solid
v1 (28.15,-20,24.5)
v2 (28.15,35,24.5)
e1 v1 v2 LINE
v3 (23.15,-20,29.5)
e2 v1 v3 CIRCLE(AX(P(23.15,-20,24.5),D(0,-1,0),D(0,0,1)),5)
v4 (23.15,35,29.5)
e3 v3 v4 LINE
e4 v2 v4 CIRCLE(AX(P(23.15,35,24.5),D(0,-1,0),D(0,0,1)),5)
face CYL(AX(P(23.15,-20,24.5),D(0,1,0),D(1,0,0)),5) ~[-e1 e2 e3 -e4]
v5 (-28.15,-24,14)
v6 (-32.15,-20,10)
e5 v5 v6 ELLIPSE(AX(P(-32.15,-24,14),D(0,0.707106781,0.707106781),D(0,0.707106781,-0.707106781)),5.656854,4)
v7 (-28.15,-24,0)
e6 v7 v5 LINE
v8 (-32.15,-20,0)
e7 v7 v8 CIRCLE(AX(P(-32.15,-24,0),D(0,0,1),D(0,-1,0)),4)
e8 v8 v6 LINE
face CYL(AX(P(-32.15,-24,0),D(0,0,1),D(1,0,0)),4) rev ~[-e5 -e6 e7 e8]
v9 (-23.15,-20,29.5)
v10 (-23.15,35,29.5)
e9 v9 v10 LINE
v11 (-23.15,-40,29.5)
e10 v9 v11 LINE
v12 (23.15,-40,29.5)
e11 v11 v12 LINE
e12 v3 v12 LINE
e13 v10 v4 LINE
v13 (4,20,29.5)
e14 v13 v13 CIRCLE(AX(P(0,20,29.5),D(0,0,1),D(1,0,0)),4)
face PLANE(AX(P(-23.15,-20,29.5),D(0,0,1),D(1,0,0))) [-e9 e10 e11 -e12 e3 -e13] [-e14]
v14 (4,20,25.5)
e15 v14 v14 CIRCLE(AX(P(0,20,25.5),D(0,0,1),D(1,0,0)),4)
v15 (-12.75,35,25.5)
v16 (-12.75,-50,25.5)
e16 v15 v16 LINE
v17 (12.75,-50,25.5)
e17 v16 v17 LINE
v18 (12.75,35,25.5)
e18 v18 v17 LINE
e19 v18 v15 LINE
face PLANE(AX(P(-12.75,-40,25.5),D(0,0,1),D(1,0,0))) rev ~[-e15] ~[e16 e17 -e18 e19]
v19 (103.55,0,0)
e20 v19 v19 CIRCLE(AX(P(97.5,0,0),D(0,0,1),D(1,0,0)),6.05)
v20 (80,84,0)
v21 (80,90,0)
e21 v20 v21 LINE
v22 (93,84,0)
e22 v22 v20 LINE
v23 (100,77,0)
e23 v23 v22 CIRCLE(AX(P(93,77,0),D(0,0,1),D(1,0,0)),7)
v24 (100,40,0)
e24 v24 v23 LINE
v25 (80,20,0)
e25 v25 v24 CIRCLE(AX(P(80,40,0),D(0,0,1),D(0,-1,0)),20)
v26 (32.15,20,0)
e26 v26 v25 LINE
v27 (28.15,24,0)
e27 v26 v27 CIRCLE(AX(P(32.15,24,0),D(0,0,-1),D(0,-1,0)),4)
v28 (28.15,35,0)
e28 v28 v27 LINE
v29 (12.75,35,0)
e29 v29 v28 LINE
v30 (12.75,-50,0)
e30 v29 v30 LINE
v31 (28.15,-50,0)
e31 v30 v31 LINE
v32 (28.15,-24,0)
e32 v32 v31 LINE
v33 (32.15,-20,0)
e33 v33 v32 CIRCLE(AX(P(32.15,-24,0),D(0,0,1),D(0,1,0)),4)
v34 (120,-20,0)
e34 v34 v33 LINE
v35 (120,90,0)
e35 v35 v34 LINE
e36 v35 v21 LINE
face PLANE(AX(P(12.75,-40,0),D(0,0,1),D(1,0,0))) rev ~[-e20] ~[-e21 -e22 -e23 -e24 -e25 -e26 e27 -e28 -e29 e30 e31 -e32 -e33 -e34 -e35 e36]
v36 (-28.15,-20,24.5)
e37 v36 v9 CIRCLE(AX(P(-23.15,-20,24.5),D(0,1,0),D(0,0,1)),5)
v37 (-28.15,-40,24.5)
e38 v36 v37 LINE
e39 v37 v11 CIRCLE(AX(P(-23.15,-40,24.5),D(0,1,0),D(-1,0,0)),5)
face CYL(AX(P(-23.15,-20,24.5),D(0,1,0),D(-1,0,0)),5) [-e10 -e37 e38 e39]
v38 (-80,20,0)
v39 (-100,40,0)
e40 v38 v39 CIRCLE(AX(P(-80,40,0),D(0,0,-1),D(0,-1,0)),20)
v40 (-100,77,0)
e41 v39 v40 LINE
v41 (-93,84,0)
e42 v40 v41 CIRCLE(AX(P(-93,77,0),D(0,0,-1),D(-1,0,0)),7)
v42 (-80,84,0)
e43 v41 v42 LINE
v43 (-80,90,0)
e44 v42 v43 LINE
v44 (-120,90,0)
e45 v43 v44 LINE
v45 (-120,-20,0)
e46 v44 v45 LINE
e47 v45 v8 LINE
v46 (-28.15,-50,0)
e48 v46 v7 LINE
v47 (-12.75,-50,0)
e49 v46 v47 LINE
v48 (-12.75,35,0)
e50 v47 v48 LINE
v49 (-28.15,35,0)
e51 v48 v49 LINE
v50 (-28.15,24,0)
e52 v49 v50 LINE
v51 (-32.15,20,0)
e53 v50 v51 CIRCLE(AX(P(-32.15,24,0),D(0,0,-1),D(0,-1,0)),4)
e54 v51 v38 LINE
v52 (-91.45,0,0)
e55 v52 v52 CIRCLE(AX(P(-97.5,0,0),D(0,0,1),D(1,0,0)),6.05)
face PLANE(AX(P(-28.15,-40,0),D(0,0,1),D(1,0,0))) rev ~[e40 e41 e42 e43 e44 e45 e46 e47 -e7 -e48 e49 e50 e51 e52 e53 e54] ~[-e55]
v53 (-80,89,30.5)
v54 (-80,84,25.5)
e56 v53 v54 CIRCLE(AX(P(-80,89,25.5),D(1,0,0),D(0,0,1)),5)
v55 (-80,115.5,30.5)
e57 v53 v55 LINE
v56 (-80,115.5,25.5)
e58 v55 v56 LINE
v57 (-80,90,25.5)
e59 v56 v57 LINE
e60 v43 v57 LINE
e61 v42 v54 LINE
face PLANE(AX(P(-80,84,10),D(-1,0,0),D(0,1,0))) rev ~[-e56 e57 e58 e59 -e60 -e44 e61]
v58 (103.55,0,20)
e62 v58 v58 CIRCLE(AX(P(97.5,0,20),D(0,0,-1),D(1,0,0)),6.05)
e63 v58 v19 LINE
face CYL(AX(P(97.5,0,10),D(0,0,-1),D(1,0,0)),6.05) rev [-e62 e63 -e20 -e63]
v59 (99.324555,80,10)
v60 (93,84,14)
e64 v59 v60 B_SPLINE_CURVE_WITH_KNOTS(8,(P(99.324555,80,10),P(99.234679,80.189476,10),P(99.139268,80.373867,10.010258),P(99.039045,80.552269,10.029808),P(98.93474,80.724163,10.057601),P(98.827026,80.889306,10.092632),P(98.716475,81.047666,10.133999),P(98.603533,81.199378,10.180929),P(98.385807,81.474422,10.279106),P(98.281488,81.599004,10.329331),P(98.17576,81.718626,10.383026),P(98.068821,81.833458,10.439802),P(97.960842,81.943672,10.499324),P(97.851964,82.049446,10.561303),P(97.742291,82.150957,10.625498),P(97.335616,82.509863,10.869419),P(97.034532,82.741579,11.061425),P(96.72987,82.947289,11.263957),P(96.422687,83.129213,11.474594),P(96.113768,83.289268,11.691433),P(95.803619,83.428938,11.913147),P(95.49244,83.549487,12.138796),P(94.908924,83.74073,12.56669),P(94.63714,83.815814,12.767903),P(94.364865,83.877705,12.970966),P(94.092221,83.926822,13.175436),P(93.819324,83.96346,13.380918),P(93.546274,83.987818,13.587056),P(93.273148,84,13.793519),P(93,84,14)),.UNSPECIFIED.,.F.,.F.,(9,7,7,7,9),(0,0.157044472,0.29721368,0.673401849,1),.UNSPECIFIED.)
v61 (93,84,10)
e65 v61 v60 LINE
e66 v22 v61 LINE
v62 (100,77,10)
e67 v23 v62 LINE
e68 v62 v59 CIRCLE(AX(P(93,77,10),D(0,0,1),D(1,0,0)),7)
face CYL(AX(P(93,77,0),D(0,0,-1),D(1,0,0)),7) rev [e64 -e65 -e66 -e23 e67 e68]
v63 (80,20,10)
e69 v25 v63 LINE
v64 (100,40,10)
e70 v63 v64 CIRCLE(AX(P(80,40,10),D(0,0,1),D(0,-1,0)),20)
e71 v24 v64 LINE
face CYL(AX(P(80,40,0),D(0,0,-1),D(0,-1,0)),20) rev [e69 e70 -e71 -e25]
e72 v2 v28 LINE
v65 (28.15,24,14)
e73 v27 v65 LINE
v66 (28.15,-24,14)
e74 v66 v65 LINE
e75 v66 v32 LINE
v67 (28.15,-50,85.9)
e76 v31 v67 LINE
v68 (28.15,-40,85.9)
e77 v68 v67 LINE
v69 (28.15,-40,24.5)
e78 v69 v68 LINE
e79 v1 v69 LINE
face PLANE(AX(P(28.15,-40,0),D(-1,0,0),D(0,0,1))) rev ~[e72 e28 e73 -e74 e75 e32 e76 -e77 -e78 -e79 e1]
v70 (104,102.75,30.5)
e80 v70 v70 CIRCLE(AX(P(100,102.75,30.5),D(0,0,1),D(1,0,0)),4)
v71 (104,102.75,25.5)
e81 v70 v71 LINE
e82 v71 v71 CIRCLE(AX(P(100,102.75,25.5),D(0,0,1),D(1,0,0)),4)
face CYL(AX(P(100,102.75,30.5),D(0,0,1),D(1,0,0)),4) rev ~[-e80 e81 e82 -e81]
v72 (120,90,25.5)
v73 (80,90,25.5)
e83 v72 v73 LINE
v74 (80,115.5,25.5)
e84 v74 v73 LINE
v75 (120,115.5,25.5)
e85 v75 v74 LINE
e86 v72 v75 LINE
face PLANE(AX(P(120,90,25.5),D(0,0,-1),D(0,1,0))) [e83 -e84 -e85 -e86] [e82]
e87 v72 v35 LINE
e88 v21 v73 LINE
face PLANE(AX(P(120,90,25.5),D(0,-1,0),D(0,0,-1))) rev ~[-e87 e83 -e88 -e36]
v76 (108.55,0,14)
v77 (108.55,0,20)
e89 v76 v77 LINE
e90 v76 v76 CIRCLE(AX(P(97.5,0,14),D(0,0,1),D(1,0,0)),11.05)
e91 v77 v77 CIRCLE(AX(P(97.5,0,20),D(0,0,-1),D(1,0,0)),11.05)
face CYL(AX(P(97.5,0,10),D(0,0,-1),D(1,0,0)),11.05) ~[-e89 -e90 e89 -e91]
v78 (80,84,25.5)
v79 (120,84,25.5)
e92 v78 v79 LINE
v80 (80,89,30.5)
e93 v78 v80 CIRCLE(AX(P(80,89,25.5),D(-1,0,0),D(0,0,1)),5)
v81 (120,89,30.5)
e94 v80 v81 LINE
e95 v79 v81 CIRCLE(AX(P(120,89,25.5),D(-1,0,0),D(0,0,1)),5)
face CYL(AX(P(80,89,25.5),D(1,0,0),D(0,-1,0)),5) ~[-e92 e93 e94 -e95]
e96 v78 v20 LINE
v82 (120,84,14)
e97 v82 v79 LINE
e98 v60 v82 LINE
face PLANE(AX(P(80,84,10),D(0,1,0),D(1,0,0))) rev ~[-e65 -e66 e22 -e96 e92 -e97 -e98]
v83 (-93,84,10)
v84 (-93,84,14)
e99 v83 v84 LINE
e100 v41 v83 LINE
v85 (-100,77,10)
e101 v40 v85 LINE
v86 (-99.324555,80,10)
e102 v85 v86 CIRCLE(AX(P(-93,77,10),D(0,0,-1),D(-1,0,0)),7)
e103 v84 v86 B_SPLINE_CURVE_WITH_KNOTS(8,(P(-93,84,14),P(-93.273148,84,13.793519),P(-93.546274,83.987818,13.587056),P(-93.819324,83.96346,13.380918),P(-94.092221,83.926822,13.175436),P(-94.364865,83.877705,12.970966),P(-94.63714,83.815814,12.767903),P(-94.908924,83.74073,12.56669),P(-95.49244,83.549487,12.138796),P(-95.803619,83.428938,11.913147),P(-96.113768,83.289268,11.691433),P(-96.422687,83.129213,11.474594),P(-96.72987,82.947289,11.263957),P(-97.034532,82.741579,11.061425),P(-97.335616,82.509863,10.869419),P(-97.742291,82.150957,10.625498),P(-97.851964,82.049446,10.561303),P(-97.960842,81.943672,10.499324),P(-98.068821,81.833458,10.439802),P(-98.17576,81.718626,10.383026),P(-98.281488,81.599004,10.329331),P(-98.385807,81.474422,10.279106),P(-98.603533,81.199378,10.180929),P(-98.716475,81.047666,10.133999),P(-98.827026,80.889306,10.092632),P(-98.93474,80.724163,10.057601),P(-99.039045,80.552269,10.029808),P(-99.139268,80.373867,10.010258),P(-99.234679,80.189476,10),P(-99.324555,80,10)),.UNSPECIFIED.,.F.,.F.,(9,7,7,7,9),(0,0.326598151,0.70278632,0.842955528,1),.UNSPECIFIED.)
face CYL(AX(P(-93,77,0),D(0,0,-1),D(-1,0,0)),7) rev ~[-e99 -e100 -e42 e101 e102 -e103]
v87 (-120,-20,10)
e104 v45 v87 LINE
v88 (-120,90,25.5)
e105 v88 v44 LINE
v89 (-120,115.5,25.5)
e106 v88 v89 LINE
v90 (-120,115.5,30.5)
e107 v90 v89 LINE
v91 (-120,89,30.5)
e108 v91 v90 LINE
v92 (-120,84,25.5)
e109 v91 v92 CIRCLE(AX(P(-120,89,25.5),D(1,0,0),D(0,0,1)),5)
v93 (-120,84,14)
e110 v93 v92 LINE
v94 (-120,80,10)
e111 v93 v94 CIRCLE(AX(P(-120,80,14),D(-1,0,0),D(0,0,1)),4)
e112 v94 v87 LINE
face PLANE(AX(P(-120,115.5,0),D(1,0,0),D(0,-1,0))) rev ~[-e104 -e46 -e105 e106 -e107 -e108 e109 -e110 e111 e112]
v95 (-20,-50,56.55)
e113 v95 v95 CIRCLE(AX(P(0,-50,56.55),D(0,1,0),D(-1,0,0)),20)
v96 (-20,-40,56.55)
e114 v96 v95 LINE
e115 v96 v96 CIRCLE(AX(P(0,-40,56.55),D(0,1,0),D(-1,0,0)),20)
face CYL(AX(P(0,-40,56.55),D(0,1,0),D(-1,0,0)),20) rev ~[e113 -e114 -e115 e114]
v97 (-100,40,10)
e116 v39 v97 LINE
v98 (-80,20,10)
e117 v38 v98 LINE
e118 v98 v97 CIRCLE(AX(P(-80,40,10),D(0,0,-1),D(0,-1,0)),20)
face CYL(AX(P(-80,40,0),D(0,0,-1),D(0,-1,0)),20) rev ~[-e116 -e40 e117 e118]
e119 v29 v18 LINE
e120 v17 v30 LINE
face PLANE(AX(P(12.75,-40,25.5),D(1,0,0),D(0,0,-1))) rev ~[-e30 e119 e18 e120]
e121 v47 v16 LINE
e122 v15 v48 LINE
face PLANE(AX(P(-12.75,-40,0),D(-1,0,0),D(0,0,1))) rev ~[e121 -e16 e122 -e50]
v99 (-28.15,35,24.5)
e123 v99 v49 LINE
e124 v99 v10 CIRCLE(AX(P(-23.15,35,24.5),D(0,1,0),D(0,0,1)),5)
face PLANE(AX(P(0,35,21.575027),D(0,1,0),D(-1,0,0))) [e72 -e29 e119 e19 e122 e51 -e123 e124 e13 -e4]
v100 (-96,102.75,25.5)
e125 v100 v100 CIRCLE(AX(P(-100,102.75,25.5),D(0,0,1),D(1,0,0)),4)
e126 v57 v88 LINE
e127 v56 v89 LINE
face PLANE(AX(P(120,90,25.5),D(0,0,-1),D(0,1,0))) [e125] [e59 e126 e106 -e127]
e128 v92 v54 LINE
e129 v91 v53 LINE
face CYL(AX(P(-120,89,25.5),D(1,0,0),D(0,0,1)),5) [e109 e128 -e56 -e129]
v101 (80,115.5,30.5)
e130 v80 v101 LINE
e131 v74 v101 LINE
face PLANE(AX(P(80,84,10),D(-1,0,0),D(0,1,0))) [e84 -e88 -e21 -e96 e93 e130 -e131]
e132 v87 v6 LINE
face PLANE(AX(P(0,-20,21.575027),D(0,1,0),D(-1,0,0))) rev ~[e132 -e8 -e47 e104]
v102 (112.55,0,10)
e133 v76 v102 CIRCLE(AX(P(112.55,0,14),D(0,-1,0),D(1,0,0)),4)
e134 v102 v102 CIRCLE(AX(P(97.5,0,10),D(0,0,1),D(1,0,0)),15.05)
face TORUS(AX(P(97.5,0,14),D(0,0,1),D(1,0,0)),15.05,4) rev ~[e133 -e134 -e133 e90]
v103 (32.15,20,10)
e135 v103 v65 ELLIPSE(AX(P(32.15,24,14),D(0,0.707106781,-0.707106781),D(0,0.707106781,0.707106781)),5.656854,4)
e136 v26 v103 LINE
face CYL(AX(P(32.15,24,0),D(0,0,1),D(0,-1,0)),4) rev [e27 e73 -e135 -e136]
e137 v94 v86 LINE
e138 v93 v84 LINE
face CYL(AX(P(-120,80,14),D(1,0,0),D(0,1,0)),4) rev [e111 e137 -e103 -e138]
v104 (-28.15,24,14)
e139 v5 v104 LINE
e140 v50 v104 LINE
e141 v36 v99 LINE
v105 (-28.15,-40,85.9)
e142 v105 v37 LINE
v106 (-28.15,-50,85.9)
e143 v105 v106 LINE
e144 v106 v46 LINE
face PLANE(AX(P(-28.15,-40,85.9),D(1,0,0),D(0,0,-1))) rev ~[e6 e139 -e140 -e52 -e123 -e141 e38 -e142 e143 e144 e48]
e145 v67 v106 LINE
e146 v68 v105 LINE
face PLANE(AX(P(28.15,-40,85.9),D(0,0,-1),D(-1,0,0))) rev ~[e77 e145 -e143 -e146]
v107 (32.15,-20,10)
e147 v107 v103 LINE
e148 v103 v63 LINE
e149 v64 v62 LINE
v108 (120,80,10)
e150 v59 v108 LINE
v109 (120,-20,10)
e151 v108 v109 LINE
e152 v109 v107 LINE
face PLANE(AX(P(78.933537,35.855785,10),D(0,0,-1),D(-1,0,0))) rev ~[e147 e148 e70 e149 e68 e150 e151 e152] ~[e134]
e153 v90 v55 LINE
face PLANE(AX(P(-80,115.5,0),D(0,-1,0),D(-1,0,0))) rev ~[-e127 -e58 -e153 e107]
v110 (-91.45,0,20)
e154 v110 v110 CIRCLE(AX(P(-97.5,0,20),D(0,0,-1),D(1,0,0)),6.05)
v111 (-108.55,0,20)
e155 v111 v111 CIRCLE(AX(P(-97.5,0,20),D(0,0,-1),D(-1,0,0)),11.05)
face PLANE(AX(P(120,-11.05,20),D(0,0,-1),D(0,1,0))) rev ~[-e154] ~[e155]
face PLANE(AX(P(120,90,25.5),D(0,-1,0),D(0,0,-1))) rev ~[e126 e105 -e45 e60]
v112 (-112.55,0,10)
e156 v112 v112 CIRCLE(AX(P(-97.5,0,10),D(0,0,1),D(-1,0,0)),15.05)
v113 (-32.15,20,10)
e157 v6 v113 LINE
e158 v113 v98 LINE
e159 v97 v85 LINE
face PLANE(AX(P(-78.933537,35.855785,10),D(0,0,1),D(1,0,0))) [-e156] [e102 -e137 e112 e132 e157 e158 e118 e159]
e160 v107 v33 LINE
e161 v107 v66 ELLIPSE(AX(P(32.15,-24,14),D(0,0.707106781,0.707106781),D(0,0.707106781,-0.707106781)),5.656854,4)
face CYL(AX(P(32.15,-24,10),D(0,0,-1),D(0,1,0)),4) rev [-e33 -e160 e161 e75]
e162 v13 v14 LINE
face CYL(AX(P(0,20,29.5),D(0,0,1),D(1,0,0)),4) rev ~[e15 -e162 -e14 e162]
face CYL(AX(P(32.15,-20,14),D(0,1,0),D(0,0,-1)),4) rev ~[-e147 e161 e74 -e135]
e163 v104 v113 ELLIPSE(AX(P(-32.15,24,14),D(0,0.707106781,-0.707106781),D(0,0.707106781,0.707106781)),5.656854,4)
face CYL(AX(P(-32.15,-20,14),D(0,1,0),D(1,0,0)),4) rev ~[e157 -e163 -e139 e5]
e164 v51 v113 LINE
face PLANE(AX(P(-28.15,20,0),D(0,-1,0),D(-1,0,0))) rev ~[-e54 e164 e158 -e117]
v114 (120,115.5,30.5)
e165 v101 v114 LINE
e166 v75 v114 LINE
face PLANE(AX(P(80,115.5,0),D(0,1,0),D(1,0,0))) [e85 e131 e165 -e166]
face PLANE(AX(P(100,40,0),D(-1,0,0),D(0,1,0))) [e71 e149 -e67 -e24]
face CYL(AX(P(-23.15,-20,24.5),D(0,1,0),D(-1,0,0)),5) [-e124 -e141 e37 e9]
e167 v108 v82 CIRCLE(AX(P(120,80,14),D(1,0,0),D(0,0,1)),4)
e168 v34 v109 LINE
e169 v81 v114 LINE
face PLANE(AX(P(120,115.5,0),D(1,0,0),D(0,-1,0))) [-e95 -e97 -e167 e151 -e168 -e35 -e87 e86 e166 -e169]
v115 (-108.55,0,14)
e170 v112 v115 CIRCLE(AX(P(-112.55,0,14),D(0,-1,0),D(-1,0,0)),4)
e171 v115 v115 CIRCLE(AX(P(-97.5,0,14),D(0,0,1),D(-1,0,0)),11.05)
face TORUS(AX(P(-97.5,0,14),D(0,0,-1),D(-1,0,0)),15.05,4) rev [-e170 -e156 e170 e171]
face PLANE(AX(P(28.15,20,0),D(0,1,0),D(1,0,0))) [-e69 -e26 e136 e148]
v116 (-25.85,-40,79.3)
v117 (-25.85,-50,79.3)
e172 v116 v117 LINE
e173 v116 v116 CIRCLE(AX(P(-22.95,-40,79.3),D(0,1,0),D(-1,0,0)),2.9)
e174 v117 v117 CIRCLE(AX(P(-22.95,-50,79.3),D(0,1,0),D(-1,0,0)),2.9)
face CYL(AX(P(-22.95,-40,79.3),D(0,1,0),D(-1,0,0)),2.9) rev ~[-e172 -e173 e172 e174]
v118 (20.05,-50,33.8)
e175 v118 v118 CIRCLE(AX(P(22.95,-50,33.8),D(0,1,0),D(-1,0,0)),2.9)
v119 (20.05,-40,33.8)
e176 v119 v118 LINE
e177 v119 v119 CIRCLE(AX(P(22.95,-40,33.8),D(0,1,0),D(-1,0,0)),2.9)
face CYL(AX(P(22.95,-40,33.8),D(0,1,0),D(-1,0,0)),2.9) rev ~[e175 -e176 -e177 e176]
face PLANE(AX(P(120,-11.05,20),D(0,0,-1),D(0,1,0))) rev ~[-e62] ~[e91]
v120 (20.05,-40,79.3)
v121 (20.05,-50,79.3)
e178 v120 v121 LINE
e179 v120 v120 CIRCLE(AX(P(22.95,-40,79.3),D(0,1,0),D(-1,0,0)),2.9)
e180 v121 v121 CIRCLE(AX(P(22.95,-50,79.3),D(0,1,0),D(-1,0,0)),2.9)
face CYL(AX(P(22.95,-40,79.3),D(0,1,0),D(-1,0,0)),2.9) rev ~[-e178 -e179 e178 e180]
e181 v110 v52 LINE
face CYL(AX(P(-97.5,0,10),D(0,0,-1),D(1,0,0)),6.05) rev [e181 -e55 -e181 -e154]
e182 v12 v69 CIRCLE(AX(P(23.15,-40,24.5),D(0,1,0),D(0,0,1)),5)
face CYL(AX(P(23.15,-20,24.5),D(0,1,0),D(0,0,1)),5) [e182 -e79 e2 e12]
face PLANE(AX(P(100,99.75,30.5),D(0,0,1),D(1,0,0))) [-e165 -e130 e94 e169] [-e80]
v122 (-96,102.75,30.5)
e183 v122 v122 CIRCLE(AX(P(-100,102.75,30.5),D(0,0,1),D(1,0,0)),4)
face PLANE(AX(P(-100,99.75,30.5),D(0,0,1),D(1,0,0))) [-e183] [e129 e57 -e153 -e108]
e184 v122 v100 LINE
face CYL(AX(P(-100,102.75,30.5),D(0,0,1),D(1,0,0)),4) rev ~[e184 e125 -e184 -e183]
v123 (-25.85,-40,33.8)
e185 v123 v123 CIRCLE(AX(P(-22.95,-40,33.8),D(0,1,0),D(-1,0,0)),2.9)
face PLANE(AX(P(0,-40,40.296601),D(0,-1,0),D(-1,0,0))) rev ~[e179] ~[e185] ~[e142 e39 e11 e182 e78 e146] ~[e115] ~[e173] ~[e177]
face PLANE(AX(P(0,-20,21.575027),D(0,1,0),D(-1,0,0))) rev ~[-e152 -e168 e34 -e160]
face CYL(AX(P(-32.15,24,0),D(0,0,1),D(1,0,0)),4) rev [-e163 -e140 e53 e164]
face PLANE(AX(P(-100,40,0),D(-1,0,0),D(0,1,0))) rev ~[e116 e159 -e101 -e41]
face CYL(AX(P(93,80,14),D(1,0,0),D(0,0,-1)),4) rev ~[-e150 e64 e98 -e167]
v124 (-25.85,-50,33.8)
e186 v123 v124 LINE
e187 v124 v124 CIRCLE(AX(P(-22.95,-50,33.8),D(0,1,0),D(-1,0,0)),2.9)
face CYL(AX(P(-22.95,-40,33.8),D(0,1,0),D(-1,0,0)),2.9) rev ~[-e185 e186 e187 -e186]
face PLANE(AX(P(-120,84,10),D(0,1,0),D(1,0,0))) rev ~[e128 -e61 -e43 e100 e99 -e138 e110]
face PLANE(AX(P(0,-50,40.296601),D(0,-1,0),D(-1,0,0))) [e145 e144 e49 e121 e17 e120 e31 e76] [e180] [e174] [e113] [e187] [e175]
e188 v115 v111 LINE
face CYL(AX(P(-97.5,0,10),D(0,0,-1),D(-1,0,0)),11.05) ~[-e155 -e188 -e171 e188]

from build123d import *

# Parameters (mm, degrees)
SKETCH19_R             = 6.05
BOSS_EXTRUDE12_DEPTH   = 10
BOSS_EXTRUDE12_2_DEPTH = 10
SKETCH20_R             = 11.05
SKETCH20_R_2           = 6.05
SKETCH20_W             = 40
SKETCH20_H             = 31.5
BOSS_EXTRUDE13_DEPTH   = 20.5
SKETCH21_W             = 25.5
SKETCH21_H             = 25.5
SKETCH21_W_2           = 10.5
SKETCH21_H_2           = 22.1
CUT_EXTRUDE11_DEPTH    = 269.086739694
CUT_EXTRUDE12_REACH    = 171.324
SKETCH22_R             = 4
BOSS_EXTRUDE14_DEPTH   = 55
FILLET6_R              = 5
BOSS_EXTRUDE16_DEPTH   = 20
SKETCH27_R             = 2.9
SKETCH27_R_2           = 20
BOSS_EXTRUDE15_DEPTH   = 10
FILLET10_R             = 4
SKETCH31_R             = 4
CUT_EXTRUDE13_DEPTH    = 10


with BuildPart() as part:
    # Sketch19 → Boss-Extrude12 (new body)
    with BuildSketch(Plane.XY):
        with BuildLine():
            Line((28.15, 20), (80, 20))
            ThreePointArc((80, 20), (94.142135624, 25.857864376), (100, 40))
            Line((100, 40), (100, 77))
            ThreePointArc((100, 77), (97.949747468, 81.949747468), (93, 84))
            Line((93, 84), (80, 84))
            Line((80, 84), (80, 115.5))
            Line((80, 115.5), (120, 115.5))
            Line((120, 115.5), (120, -20))
            Line((120, -20), (12.75, -20))
            Line((12.75, -20), (12.75, 20))
            Line((12.75, 20), (12.75, 35))
            Line((12.75, 35), (28.15, 35))
            Line((28.15, 35), (28.15, 20))
        make_face()
        with Locations((97.5, 0)):
            Circle(SKETCH19_R, mode=Mode.SUBTRACT)
    extrude(amount=BOSS_EXTRUDE12_DEPTH)



with BuildPart() as body_2:
    # Sketch19 → Boss-Extrude12 2 (new body)
    with BuildSketch(Plane.XY):
        with BuildLine():
            Line((-120, -20), (-12.75, -20))
            Line((-12.75, -20), (-12.75, 20))
            Line((-12.75, 20), (-12.75, 35))
            Line((-12.75, 35), (-28.15, 35))
            Line((-28.15, 35), (-28.15, 20))
            Line((-28.15, 20), (-80, 20))
            ThreePointArc((-80, 20), (-94.142135624, 25.857864376), (-100, 40))
            Line((-100, 40), (-100, 77))
            ThreePointArc((-100, 77), (-97.949747468, 81.949747468), (-93, 84))
            Line((-93, 84), (-80, 84))
            Line((-80, 84), (-80, 115.5))
            Line((-80, 115.5), (-120, 115.5))
            Line((-120, 115.5), (-120, -20))
        make_face()
        with Locations((-97.5, 0)):
            Circle(SKETCH19_R, mode=Mode.SUBTRACT)
    extrude(amount=BOSS_EXTRUDE12_2_DEPTH)


with BuildPart() as part_1:
    add(part.part)

    add(body_2.part)  # Boss-Extrude13 merges body 2
    # Sketch20 → Boss-Extrude13 (add)
    # profile 1 of 4: a face of its own
    with BuildSketch(Plane.XY.offset(10)):
        with Locations((-97.5, 0)):
            Circle(SKETCH20_R)
        with Locations((-97.5, 0)):
            Circle(SKETCH20_R_2, mode=Mode.SUBTRACT)
    # profile 2 of 4: a face of its own
    with BuildSketch(Plane.XY.offset(10)):
        with Locations((97.5, 0)):
            Circle(SKETCH20_R)
        with Locations((97.5, 0)):
            Circle(SKETCH20_R_2, mode=Mode.SUBTRACT)
    # profile 3 of 4: a face of its own
    with BuildSketch(Plane.XY.offset(10)):
        with Locations((-100, 99.75)):
            Rectangle(SKETCH20_W, SKETCH20_H)
    # profile 4 of 4: a face of its own
    with BuildSketch(Plane.XY.offset(10)):
        with Locations((100, 99.75)):
            Rectangle(SKETCH20_W, SKETCH20_H)
    extrude(amount=BOSS_EXTRUDE13_DEPTH)

    # Sketch21 → Cut-Extrude11 (cut, through all)
    with BuildSketch(Plane(origin=(120, 0, 0), x_dir=(0, 0, -1), z_dir=(1, 0, 0))):
        with Locations((-12.75, 102.75)):
            Rectangle(SKETCH21_W, SKETCH21_H)
        with Locations((-25.25, 0)):
            Rectangle(SKETCH21_W_2, SKETCH21_H_2)
    extrude(amount=-CUT_EXTRUDE11_DEPTH, mode=Mode.SUBTRACT)

    # Sketch22 → Cut-Extrude12 (cut, up to next)
    with BuildSketch(Plane.XY.offset(30.5), mode=Mode.PRIVATE) as cut_extrude12_sk1:
        with Locations((-100, 102.75)):
            Circle(SKETCH22_R)
    cut_extrude12_tool1 = extrude(cut_extrude12_sk1.sketch, amount=-CUT_EXTRUDE12_REACH, mode=Mode.PRIVATE) & part_1.part
    # Sketch22 → Cut-Extrude12 (cut, up to next)
    with BuildSketch(Plane.XY.offset(30.5), mode=Mode.PRIVATE) as cut_extrude12_sk2:
        with Locations((100, 102.75)):
            Circle(SKETCH22_R)
    cut_extrude12_tool2 = extrude(cut_extrude12_sk2.sketch, amount=-CUT_EXTRUDE12_REACH, mode=Mode.PRIVATE) & part_1.part
    add(cut_extrude12_tool1.solids().sort_by_distance((-100, 102.75, 30.5))[0], mode=Mode.SUBTRACT)
    add(cut_extrude12_tool2.solids().sort_by_distance((100, 102.75, 30.5))[0], mode=Mode.SUBTRACT)

    # Sketch23 → Boss-Extrude14 (add)
    with BuildSketch(Plane.XZ.offset(20)):
        Polygon((-12.75, 10), (-28.15, 10), (-28.15, 29.5), (28.15, 29.5), (28.15, 10), (12.75, 10), (12.75, 25.5), (-12.75, 25.5), align=None)
    extrude(amount=-BOSS_EXTRUDE14_DEPTH)

    # Fillet6
    fillet6_edges = [part_1.edges().sort_by_distance(p)[0] for p in [
        (-100, 84, 30.5),
        (100, 84, 30.5),
        (28.15, 7.5, 29.5),
        (-28.15, 7.5, 29.5),
    ]]
    fillet(fillet6_edges, radius=FILLET6_R)

    # Sketch28 → Boss-Extrude16 (add)
    with BuildSketch(Plane.XZ.offset(20)):
        with BuildLine():
            Line((-28.15, 0), (-28.15, 24.5))
            ThreePointArc((-28.15, 24.5), (-26.685533906, 28.035533906), (-23.15, 29.5))
            Line((-23.15, 29.5), (23.15, 29.5))
            ThreePointArc((23.15, 29.5), (26.685533906, 28.035533906), (28.15, 24.5))
            Line((28.15, 24.5), (28.15, 0))
            Line((28.15, 0), (12.75, 0))
            Line((12.75, 0), (12.75, 25.5))
            Line((12.75, 25.5), (-12.75, 25.5))
            Line((-12.75, 25.5), (-12.75, 0))
            Line((-12.75, 0), (-28.15, 0))
        make_face()
    extrude(amount=BOSS_EXTRUDE16_DEPTH)

    # Sketch27 → Boss-Extrude15 (add)
    with BuildSketch(Plane(origin=(0, -40, 0), x_dir=(1, 0, 0), z_dir=(0, 1, 0))):
        Polygon((-12.75, 0), (-12.75, -25.5), (12.75, -25.5), (12.75, 0), (28.15, 0), (28.15, -85.9), (-28.15, -85.9), (-28.15, 0), align=None)
        with Locations((-22.95, -79.3)):
            Circle(SKETCH27_R, mode=Mode.SUBTRACT)
        with Locations((22.95, -79.3)):
            Circle(SKETCH27_R, mode=Mode.SUBTRACT)
        with Locations((22.95, -33.8)):
            Circle(SKETCH27_R, mode=Mode.SUBTRACT)
        with Locations((-22.95, -33.8)):
            Circle(SKETCH27_R, mode=Mode.SUBTRACT)
        with Locations((0, -56.55)):
            Circle(SKETCH27_R_2, mode=Mode.SUBTRACT)
    extrude(amount=-BOSS_EXTRUDE15_DEPTH)

    # Fillet10
    fillet10_edges = [part_1.edges().sort_by_distance(p)[0] for p in [
        (28.15, 20, 5),
        (-28.15, 20, 5),
        (-28.15, 0, 10),
        (28.15, 0, 10),
        (86.45, 0, 10),
        (-108.55, 0, 10),
        (-106.5, 84, 10),
        (106.5, 84, 10),
        (-28.15, -20, 5),
        (28.15, -20, 5),
    ]]
    fillet(fillet10_edges, radius=FILLET10_R)

    # Sketch31 → Cut-Extrude13 (cut)
    with BuildSketch(Plane.XY.offset(29.5)):
        with Locations((0, 20)):
            Circle(SKETCH31_R)
    extrude(amount=-CUT_EXTRUDE13_DEPTH, mode=Mode.SUBTRACT)


solid = part_1.part
